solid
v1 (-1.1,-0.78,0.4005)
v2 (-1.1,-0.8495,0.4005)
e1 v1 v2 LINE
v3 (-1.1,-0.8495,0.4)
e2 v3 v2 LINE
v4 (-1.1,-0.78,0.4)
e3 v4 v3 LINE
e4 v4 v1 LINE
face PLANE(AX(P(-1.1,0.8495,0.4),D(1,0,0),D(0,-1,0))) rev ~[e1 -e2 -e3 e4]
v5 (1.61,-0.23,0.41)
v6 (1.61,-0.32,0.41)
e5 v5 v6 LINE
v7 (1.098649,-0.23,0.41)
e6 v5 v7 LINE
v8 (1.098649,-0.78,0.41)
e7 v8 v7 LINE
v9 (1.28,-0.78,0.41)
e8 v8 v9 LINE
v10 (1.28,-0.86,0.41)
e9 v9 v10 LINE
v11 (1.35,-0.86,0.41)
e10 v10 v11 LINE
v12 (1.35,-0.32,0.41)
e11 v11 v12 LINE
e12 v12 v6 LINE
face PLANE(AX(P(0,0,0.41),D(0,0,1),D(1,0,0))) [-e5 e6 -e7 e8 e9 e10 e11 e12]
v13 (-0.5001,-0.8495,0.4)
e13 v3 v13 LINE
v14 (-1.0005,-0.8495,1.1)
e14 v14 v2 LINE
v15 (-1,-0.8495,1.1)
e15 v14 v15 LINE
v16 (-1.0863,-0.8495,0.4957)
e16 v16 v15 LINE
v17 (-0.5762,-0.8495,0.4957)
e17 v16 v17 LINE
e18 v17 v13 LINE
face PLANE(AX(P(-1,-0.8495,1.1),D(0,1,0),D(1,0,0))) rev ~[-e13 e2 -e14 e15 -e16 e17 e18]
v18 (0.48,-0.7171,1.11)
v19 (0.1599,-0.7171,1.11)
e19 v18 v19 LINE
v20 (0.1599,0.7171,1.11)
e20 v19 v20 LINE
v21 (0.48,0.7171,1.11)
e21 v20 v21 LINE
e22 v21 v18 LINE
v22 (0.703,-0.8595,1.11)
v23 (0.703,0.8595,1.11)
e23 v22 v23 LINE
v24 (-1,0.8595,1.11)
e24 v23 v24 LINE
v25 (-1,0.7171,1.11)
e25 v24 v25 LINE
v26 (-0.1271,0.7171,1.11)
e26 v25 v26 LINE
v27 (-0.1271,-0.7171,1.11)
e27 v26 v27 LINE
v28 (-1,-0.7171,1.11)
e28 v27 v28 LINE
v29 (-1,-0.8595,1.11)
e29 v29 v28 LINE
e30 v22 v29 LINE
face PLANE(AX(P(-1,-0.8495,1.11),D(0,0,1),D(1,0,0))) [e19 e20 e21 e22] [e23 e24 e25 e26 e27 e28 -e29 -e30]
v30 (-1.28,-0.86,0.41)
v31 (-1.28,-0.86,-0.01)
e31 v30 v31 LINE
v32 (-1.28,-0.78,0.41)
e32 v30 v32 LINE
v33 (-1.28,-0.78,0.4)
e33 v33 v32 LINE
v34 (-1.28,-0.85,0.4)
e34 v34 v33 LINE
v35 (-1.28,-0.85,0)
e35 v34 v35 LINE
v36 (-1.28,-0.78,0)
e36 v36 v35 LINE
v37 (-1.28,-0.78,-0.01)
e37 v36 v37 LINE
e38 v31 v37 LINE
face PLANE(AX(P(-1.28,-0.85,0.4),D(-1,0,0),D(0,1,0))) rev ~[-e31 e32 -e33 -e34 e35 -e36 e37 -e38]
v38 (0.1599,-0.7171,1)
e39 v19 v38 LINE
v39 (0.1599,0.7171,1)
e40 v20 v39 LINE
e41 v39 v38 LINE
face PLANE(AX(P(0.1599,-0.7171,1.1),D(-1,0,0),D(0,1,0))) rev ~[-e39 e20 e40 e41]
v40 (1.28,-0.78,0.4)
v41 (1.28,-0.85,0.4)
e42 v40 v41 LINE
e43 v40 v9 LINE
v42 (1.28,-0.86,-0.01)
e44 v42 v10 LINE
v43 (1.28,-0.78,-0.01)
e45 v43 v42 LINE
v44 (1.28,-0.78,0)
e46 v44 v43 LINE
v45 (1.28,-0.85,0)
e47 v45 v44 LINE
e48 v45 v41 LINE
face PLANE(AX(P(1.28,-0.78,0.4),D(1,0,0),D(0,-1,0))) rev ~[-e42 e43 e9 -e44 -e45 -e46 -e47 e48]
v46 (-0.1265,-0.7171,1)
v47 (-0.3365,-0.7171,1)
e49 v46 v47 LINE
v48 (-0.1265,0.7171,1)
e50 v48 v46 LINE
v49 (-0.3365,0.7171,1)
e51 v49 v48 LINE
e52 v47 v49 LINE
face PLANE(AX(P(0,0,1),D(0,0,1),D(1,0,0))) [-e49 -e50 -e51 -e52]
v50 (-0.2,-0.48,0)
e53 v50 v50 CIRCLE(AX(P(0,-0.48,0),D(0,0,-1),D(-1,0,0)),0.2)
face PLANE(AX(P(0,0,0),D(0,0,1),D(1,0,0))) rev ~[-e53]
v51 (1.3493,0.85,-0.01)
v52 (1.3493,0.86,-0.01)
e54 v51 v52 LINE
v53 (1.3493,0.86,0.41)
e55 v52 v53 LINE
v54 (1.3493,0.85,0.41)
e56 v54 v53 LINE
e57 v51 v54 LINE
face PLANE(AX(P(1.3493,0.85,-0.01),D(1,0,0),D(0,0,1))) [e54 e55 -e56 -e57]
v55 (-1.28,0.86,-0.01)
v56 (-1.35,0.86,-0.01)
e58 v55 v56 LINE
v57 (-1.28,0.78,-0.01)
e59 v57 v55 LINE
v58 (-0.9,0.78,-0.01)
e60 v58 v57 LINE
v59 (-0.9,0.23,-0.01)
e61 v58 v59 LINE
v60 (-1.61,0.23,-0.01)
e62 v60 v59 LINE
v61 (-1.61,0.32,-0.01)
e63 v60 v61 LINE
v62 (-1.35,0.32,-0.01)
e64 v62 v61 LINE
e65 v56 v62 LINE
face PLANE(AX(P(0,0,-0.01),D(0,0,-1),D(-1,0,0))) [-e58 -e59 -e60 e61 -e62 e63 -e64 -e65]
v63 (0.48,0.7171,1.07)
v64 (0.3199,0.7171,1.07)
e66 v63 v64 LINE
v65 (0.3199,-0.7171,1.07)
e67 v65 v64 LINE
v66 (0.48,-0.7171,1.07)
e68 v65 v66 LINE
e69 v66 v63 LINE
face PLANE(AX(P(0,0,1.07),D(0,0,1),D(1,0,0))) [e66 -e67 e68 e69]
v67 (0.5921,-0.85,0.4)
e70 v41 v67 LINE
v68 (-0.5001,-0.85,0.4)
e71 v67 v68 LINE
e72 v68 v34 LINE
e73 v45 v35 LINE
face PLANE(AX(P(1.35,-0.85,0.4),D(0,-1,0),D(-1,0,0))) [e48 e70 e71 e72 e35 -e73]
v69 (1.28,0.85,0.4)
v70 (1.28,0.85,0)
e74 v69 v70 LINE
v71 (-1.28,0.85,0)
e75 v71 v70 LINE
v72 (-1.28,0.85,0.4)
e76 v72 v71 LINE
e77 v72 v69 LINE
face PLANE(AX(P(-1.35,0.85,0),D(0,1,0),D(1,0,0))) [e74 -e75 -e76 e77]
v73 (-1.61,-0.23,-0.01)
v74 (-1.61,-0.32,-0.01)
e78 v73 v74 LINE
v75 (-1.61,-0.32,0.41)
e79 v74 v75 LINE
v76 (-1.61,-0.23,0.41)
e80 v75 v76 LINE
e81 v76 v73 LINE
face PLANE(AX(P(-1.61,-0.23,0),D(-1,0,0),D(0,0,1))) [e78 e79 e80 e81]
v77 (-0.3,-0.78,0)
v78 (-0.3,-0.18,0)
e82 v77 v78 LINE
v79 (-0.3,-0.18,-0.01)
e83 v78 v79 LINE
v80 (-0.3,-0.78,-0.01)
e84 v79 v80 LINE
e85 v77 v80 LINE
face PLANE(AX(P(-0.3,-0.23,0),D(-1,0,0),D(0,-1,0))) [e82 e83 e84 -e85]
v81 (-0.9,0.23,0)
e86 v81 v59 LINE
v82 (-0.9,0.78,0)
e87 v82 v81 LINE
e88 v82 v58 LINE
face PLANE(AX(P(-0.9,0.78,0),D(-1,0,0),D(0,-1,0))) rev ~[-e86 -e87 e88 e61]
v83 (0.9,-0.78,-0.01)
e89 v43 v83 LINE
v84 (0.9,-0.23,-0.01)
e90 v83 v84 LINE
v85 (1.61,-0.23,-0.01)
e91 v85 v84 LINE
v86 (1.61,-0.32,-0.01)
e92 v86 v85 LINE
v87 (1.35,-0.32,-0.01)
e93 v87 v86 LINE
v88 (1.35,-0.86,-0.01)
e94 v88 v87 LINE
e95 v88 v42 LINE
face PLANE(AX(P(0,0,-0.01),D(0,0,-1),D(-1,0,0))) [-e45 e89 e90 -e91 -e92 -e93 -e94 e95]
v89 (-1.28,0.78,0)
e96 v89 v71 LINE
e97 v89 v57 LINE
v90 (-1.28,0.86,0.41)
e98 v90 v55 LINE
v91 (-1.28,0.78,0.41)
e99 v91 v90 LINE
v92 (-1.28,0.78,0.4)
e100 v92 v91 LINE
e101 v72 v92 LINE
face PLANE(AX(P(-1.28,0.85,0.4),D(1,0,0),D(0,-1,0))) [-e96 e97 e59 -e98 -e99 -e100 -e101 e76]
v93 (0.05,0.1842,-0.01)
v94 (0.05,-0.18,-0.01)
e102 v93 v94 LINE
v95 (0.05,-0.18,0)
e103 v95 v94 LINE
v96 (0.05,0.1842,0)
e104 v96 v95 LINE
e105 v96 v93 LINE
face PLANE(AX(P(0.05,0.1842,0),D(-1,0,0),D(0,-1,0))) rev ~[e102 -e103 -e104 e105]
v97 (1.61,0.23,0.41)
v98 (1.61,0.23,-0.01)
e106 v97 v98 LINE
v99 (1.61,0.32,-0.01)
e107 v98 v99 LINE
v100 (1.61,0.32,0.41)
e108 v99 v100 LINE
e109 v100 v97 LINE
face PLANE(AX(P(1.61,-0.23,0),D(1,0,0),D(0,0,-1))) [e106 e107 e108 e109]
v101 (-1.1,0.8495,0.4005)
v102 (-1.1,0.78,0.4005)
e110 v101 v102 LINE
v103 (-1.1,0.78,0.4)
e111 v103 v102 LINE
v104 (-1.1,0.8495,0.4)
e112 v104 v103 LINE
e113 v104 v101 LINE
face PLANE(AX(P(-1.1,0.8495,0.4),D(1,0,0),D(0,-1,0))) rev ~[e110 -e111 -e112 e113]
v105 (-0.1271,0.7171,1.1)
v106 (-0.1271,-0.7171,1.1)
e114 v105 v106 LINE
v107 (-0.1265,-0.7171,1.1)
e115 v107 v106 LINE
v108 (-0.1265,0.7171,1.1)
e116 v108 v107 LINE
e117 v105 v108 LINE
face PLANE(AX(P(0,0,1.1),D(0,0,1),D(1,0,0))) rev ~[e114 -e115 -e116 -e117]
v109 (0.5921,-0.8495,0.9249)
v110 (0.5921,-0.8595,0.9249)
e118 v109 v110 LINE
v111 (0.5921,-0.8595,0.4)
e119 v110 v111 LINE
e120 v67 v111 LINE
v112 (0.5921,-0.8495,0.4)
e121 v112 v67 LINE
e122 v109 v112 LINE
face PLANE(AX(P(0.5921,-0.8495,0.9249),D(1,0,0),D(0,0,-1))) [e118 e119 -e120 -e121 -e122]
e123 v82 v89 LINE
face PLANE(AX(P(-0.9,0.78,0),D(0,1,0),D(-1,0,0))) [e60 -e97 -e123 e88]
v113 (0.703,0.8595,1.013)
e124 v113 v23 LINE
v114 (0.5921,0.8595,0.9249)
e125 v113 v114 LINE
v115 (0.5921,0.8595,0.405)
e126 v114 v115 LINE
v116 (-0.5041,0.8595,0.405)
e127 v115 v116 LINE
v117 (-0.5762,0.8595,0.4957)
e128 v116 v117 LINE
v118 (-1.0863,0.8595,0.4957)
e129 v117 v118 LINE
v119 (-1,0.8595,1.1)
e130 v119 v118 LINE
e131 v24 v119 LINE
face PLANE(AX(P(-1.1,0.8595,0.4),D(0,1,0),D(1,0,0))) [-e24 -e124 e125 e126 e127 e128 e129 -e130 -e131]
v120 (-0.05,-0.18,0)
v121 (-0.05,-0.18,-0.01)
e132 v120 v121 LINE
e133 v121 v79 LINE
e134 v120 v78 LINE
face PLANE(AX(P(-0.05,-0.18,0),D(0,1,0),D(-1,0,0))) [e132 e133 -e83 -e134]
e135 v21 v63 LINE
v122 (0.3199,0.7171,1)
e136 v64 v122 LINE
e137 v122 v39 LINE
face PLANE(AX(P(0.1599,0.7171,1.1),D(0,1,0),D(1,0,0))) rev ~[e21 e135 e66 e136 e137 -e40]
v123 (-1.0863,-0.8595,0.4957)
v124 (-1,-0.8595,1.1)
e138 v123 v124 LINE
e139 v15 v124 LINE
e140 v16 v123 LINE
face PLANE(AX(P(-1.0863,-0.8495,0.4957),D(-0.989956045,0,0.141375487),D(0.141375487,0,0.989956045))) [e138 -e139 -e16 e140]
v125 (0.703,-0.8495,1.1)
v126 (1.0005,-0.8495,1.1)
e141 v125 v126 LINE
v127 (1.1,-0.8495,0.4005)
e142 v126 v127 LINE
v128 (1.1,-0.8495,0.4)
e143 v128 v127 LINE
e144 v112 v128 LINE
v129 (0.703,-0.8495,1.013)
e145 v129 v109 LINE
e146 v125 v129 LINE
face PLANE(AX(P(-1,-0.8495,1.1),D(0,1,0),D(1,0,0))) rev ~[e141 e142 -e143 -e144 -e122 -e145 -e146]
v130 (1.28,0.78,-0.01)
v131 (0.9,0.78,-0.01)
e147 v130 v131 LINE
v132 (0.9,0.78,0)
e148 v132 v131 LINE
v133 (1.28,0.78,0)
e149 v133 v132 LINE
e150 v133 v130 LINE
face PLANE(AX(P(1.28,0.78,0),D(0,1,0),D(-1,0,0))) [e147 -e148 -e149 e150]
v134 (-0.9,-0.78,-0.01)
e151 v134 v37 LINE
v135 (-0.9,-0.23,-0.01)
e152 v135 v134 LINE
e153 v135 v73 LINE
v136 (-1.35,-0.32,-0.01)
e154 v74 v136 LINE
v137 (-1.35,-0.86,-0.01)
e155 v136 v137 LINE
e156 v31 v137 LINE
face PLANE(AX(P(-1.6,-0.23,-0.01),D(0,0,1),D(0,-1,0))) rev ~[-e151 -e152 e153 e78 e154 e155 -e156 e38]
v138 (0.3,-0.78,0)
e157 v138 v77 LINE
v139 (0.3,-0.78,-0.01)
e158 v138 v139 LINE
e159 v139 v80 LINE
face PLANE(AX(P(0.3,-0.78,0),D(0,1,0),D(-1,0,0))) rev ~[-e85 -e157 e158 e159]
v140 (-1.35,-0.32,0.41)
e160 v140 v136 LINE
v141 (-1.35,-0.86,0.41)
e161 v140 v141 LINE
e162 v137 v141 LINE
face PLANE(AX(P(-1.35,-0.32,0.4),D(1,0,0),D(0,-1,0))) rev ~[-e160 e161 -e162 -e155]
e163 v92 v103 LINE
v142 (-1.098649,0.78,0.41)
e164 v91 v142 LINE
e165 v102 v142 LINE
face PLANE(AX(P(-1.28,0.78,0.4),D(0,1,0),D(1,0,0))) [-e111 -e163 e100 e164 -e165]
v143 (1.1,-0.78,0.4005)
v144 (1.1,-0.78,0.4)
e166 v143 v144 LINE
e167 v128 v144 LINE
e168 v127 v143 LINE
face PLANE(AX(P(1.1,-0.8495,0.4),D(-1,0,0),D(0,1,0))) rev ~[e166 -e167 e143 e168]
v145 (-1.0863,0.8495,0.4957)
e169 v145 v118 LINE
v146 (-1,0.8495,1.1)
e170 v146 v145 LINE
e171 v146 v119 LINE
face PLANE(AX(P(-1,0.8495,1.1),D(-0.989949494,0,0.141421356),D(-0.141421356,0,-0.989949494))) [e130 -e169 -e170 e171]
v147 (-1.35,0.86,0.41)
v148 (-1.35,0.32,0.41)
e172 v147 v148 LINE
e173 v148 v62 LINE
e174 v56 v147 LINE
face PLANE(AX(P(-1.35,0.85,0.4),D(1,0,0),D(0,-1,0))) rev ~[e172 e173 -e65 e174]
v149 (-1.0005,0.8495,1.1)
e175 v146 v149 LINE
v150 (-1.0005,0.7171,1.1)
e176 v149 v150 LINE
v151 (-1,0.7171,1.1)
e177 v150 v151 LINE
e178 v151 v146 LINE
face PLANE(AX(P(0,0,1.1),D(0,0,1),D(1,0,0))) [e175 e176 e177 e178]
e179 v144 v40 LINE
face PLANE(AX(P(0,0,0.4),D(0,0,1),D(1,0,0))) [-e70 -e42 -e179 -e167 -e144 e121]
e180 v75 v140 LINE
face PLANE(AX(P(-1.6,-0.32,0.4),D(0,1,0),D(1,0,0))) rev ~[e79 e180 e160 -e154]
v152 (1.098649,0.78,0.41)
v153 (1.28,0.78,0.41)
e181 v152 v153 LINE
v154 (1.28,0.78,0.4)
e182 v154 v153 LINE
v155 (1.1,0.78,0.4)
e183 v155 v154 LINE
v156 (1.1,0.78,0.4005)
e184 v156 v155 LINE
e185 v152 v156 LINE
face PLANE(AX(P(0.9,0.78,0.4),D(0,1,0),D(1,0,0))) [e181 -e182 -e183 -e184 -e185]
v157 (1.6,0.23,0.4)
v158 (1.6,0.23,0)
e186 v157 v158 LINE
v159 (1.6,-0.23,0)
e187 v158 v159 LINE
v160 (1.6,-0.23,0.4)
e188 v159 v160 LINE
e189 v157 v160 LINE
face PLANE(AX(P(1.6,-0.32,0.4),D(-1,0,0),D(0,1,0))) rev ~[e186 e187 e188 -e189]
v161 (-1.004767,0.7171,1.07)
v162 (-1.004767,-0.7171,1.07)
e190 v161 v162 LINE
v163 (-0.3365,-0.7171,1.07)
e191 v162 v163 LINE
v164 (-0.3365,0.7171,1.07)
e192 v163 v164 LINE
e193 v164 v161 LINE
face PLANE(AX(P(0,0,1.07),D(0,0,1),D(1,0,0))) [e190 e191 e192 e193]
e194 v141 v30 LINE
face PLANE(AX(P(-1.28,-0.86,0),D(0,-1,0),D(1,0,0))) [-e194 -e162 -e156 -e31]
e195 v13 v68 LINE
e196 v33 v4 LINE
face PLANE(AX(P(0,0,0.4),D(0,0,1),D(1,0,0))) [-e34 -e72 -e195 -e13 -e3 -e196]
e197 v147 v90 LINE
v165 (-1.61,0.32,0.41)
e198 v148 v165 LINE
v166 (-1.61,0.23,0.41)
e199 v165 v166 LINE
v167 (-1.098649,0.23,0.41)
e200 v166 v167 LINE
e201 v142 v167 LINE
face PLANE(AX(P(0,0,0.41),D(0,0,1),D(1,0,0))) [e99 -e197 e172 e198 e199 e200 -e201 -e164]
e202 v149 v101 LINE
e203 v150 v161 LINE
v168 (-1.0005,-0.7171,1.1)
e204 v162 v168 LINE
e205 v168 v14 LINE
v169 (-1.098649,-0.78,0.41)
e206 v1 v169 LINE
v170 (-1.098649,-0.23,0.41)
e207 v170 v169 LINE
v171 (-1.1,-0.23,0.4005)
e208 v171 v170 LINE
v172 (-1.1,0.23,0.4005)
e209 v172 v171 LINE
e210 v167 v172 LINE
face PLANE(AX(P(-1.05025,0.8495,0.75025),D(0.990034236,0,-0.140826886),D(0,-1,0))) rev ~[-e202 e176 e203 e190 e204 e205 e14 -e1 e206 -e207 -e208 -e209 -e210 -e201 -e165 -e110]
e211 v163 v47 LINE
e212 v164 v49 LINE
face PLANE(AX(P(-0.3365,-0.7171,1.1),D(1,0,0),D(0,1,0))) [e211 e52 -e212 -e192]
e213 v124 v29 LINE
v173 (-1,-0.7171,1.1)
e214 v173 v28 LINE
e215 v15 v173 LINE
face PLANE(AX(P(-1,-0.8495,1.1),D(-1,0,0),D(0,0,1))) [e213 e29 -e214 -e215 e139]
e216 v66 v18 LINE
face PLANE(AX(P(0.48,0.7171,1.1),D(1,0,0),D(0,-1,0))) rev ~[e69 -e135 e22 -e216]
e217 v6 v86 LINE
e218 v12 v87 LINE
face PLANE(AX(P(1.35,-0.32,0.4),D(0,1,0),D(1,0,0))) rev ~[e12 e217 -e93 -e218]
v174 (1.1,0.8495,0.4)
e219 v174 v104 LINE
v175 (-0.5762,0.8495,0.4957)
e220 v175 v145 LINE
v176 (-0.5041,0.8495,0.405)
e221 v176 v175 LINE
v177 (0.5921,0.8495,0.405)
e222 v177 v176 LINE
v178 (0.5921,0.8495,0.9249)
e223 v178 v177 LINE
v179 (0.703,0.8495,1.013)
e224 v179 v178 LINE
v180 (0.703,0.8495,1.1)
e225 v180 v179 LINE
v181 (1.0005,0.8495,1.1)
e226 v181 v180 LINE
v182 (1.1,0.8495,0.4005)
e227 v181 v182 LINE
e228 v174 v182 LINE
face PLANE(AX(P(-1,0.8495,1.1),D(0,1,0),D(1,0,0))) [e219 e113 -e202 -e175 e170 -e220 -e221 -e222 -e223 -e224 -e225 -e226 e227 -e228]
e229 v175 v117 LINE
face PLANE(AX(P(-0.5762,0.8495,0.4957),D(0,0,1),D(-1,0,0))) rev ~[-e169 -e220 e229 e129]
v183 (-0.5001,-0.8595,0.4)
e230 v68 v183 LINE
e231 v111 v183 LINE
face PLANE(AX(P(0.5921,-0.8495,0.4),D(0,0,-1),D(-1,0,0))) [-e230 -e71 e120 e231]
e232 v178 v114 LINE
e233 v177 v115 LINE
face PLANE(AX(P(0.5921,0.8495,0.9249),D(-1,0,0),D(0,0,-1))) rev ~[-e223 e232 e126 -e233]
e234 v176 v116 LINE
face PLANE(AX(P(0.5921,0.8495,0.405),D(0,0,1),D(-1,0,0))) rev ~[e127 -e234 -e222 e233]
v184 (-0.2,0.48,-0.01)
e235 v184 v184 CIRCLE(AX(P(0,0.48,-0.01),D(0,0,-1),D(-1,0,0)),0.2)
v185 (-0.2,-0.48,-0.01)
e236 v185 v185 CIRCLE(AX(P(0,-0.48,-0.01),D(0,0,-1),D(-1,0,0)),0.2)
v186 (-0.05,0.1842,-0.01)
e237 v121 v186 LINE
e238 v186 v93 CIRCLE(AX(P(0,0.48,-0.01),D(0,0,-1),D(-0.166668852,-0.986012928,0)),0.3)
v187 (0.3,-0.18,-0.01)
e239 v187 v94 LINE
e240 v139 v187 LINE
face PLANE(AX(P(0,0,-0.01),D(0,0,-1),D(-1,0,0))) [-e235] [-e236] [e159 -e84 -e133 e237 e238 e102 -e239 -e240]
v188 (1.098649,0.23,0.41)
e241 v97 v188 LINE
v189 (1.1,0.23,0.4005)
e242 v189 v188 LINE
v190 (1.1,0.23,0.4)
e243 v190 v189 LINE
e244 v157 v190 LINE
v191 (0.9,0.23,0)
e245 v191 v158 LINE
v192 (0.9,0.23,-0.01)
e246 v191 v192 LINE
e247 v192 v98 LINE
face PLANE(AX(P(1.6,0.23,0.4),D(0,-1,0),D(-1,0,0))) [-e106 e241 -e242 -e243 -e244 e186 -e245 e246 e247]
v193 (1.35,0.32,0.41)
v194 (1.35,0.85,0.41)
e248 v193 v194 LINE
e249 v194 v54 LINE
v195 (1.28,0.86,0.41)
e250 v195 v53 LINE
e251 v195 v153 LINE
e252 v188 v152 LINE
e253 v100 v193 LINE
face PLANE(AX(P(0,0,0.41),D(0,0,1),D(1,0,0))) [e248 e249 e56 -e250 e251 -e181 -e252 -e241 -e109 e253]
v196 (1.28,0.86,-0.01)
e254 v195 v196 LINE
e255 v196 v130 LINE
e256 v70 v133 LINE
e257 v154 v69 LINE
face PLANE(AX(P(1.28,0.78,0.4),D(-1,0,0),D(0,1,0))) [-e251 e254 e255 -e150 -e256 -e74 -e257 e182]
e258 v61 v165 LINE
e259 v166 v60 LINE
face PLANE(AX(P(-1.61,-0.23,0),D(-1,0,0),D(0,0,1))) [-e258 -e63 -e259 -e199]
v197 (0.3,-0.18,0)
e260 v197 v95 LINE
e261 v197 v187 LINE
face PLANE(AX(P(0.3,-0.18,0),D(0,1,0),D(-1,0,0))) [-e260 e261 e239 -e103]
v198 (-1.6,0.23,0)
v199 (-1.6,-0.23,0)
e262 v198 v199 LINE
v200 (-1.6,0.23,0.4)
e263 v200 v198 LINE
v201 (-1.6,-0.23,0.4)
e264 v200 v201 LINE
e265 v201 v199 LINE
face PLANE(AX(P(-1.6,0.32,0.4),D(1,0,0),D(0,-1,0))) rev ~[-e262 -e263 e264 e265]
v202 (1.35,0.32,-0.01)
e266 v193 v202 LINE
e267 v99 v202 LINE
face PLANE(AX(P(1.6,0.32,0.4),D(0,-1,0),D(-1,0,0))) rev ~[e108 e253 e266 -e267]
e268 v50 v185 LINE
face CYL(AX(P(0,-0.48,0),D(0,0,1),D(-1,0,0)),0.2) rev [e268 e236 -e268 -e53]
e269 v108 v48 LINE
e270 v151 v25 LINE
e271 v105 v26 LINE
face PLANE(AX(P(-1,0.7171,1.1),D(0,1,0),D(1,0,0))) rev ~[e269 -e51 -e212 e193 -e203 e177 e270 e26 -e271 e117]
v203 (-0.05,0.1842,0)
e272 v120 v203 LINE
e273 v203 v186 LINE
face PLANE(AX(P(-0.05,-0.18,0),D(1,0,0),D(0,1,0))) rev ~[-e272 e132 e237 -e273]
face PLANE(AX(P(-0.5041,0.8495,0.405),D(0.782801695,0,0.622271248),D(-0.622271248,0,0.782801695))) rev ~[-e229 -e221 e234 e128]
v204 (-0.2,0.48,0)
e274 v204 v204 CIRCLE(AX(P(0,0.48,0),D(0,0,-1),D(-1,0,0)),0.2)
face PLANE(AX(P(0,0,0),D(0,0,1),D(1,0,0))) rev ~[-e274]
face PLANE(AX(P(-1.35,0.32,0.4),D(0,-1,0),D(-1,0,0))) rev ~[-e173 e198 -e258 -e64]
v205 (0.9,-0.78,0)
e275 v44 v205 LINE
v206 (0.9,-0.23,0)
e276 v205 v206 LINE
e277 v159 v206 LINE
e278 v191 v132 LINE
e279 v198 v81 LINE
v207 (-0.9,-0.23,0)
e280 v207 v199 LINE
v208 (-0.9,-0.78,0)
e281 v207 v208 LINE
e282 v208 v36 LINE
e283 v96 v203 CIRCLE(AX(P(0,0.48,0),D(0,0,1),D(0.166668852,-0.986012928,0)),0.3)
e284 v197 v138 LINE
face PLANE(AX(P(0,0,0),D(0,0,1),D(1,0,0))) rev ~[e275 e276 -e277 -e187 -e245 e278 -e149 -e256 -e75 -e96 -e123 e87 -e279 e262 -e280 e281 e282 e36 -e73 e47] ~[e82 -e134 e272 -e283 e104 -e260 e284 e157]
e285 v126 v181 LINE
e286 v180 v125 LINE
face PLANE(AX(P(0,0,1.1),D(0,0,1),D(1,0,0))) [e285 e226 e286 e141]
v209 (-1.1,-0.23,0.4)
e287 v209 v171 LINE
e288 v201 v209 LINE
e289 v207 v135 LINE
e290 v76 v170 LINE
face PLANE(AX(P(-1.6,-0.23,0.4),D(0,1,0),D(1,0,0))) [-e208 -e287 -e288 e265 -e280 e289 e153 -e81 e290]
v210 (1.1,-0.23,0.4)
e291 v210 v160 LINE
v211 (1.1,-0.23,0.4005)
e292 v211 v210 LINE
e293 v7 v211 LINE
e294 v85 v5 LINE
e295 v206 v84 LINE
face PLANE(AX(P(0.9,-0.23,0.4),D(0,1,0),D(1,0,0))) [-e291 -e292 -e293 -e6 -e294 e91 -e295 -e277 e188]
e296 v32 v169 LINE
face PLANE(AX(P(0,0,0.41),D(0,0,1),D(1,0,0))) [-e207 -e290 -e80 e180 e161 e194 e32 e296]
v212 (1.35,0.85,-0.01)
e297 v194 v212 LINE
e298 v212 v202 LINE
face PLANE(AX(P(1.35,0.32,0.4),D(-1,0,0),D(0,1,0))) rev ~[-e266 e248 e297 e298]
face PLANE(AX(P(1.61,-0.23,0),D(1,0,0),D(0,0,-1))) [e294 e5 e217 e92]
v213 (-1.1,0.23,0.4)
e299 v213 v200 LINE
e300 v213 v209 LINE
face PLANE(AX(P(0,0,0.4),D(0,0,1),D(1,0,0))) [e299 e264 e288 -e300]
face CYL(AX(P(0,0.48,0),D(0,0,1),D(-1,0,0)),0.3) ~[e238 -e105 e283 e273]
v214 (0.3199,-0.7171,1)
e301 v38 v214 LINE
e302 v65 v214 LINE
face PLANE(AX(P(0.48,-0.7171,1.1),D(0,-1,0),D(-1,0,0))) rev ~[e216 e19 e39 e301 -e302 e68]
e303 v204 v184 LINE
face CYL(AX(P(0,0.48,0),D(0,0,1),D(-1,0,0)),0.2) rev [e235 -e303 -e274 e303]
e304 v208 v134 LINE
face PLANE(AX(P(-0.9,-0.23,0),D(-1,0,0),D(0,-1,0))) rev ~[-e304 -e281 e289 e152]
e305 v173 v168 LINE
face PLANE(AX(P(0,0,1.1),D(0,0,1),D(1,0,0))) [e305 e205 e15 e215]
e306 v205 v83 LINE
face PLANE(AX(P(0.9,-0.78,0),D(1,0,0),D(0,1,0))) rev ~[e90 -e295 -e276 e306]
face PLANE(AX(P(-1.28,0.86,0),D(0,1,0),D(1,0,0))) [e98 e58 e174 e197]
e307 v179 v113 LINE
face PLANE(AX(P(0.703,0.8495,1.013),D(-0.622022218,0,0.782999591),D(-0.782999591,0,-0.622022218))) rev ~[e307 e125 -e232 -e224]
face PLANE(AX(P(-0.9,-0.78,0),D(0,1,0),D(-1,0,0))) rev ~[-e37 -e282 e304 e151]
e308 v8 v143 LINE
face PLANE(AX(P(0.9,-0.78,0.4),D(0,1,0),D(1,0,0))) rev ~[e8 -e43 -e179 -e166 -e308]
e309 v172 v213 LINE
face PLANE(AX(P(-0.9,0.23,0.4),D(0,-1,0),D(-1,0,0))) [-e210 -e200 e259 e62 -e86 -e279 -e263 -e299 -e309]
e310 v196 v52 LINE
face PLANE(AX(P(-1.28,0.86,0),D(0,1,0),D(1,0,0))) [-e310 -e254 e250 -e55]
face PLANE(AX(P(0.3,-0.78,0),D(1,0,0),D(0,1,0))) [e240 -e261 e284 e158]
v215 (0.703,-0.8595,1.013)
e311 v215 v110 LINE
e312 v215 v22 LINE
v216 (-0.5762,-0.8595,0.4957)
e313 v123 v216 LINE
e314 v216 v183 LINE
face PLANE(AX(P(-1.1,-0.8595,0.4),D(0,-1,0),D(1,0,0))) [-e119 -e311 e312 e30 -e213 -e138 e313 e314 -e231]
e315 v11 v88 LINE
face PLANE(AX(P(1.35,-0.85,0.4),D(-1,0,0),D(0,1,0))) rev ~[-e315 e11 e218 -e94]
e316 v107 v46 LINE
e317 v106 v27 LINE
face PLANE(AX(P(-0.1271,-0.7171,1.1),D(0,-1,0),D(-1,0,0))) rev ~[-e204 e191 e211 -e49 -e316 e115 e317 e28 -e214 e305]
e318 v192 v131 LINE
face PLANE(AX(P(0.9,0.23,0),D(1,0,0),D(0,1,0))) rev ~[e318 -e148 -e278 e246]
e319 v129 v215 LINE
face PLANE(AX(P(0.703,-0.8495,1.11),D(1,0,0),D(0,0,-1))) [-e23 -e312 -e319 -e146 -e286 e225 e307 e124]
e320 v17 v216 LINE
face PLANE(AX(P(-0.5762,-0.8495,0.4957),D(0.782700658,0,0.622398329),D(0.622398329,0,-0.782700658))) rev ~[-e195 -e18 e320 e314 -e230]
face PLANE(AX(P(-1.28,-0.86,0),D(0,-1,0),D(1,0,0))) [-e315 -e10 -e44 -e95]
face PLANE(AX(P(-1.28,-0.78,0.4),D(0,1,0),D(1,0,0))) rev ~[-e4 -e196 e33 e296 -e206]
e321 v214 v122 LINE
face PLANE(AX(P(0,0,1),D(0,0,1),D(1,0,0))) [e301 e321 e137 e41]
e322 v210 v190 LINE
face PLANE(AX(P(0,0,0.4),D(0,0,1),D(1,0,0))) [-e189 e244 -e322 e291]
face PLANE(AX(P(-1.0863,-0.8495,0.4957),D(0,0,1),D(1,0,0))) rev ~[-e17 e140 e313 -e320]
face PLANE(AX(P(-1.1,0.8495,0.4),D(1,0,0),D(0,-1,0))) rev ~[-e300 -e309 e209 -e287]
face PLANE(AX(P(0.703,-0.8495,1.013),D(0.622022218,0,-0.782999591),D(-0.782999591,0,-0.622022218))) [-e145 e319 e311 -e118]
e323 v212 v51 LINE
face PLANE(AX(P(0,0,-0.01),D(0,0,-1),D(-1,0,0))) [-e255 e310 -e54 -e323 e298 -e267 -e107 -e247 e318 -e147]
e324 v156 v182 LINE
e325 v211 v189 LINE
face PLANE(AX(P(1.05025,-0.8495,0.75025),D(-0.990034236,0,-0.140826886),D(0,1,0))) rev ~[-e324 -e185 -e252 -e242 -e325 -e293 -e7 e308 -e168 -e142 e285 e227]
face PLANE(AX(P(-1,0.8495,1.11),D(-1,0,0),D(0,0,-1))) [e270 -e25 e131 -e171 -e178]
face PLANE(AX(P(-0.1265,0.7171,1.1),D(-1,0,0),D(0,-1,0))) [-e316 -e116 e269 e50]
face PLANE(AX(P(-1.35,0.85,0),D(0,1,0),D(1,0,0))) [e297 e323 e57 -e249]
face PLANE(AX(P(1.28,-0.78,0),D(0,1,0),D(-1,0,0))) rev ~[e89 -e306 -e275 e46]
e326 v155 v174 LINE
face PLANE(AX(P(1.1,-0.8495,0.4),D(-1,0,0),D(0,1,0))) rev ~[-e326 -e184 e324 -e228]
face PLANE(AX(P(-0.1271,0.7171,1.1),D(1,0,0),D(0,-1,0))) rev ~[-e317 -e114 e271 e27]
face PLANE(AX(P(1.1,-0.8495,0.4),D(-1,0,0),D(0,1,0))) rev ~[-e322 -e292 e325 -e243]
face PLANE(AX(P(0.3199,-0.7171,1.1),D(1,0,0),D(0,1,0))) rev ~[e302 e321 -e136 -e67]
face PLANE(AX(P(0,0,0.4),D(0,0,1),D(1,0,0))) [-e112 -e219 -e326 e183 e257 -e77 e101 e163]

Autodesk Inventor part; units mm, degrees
ref_plane "YZ Plane" through (0, 0, 0) normal (1, 0, 0) x (0, 1, 0)
ref_plane "XZ Plane" through (0, 0, 0) normal (0, 1, 0) x (-1, 0, 0)
ref_plane "XY Plane" through (0, 0, 0) normal (0, 0, 1) x (1, 0, 0)
sketch "Sketch1" plane through (0, 0, 0) normal (0, 0, 1) x (1, 0, 0)
  line L0 (1.35, -0.85) -> (-1.35, -0.85)
  line L1 (-1.35, -0.85) -> (-1.35, 0.85)
  line L2 (-1.35, 0.85) -> (1.35, 0.85)
  line L3 (1.35, 0.85) -> (1.35, -0.85)
  line L4 (1.35, -0.85) -> (-1.35, 0.85) construction
  line L5 (-1.35, -0.85) -> (1.35, 0.85) construction
  line L6 (-1.35, 0) -> (1.35, 0) construction
  line L7 (0, 0.85) -> (0, -0.85) construction
  line L8 (1.6, -0.32) -> (1.35, -0.32)
  line L9 (1.35, -0.32) -> (1.35, 0.32)
  line L10 (1.35, 0.32) -> (1.6, 0.32)
  line L11 (1.6, 0.32) -> (1.6, -0.32)
  line L12 (1.6, -0.32) -> (1.35, 0.32) construction
  line L13 (1.35, -0.32) -> (1.6, 0.32) construction
  line L14 (-1.6, -0.32) -> (-1.35, -0.32)
  line L15 (-1.35, -0.32) -> (-1.35, 0.32)
  line L16 (-1.35, 0.32) -> (-1.6, 0.32)
  line L17 (-1.6, 0.32) -> (-1.6, -0.32)
  line L18 (-1.6, -0.32) -> (-1.35, 0.32) construction
  line L19 (-1.35, -0.32) -> (-1.6, 0.32) construction
  point P0 (0, 0)
  point P1 (1.475, 0)
  point P2 (-1.475, 0)
  dimension "d0" = 2.7
  dimension "d1" = 1.7
  dimension "d3" = 0.64
  dimension "d4" = 3.2
extrude "Extrusion1" add sketch "Sketch1" along normal blind 0.4
sketch "Sketch2" plane through (0, 0, 0.4) normal (0, 0, 1) x (1, 0, 0)
  line L0 (-1.1, -0.8495) -> (1.1, -0.8495)
  line L1 (1.1, -0.8495) -> (1.1, 0.8495)
  line L2 (1.1, 0.8495) -> (-1.1, 0.8495)
  line L3 (-1.1, 0.8495) -> (-1.1, -0.8495)
  line L4 (-1.1, -0.8495) -> (1.1, 0.8495) construction
  line L5 (1.1, -0.8495) -> (-1.1, 0.8495) construction
  point P0 (0, 0)
  dimension "d7" = 2.2
  dimension "d27" = 1.699
sketch "Sketch3" plane through (0, 0, 0) normal (0, 0, -1) x (-1, 0, 0)
  line L0 (1.35, -0.85) -> (-1.35, -0.85) projected
  line L1 (-0.9, 0.85) -> (0.9, 0.85)
  line L2 (0.9, 0.85) -> (0.9, -0.85)
  line L3 (0.9, -0.85) -> (-0.9, -0.85)
  line L4 (-0.9, -0.85) -> (-0.9, 0.85)
  line L5 (-0.9, 0.85) -> (0.9, -0.85) construction
  line L6 (0.9, 0.85) -> (-0.9, -0.85) construction
  line L7 (1.28, 0.85) -> (-1.28, 0.85)
  line L8 (-1.28, 0.85) -> (-1.28, 0.78)
  line L9 (-1.28, 0.78) -> (1.28, 0.78)
  line L10 (1.28, 0.78) -> (1.28, 0.85)
  line L11 (1.28, 0.85) -> (-1.28, 0.78) construction
  line L12 (-1.28, 0.85) -> (1.28, 0.78) construction
  line L13 (-1.35, 0.85) -> (-1.35, 0.32) projected
  line L14 (-1.6, -0.32) -> (-1.6, 0.32) projected
  line L15 (1.6, 0.23) -> (-1.6, 0.23)
  line L16 (-1.6, 0.23) -> (-1.6, -0.23)
  line L17 (-1.6, -0.23) -> (1.6, -0.23)
  line L18 (1.6, -0.23) -> (1.6, 0.23)
  line L19 (1.6, 0.23) -> (-1.6, -0.23) construction
  line L20 (-1.6, 0.23) -> (1.6, -0.23) construction
  line L21 (1.35, -0.85) -> (1.35, -0.32)
  line L22 (1.35, -0.32) -> (1.6, -0.32)
  line L23 (1.6, -0.32) -> (1.35, -0.32) projected
  line L24 (1.6, -0.32) -> (1.6, 0.32)
  line L25 (1.6, 0.32) -> (1.35, 0.32)
  line L26 (1.35, 0.32) -> (1.35, 0.85)
  line L27 (-1.35, 0.85) -> (1.35, 0.85) projected
  line L28 (1.35, 0.85) -> (-1.35, 0.85)
  line L29 (-1.35, 0.85) -> (-1.35, 0.32)
  line L30 (-1.35, 0.32) -> (-1.6, 0.32)
  line L31 (-1.6, 0.32) -> (-1.35, 0.32) projected
  line L32 (-1.6, -0.32) -> (-1.35, -0.32)
  line L33 (-1.35, -0.32) -> (-1.6, -0.32) projected
  line L34 (-1.35, -0.32) -> (-1.35, -0.85)
  line L35 (1.6, 0) -> (-1.6, 0) construction
  line L36 (-0.9, -0.85) -> (0.9, -0.85)
  line L37 (-0.9, -0.85) -> (0.9, 0.85) construction
  line L38 (0.9, -0.85) -> (-0.9, 0.85) construction
  line L39 (1.28, -0.85) -> (-1.28, -0.85)
  line L40 (-1.28, -0.85) -> (-1.28, -0.78)
  line L41 (-1.28, -0.78) -> (1.28, -0.78)
  line L42 (1.28, -0.78) -> (1.28, -0.85)
  line L43 (1.28, -0.85) -> (-1.28, -0.78) construction
  line L44 (-1.28, -0.85) -> (1.28, -0.78) construction
  line L45 (1.35, -0.85) -> (-1.35, -0.85)
  line L46 (-0.3, -0.18) -> (0.3, -0.18)
  line L47 (0.3, -0.18) -> (0.3, -0.78)
  line L48 (0.3, -0.78) -> (-0.3, -0.78)
  line L49 (-0.3, -0.78) -> (-0.3, -0.18)
  line L50 (-0.3, -0.18) -> (0.3, -0.78) construction
  line L51 (0.3, -0.18) -> (-0.3, -0.78) construction
  circle A0 centre (0, 0.48) radius 0.3
  circle A1 centre (0, 0.48) radius 0.2
  line L52 (0.05, -0.18) -> (0.05, 0.1842)
  line L53 (-0.05, 0.1842) -> (-0.05, -0.18)
  line L54 (0, -0.85) -> (0, 0.85) construction
  circle A2 centre (0, -0.48) radius 0.2
  point P0 (0, 0)
  point P1 (0, 0.815)
  point P2 (0, 0.815)
  point P3 (0, 0)
  point P4 (0, -0.815)
  point P5 (0, -0.815)
  point P6 (0, -0.48)
  point P7 (0, -0.48)
  point P8 (0, 0)
  point P9 (0, -0.48)
  point P10 (0, 0)
  dimension "d8" = 1.8
  dimension "d9" = 0.07
  dimension "d10" = 0.07
  dimension "d11" = 0.46
  dimension "d14" = 0.6
  dimension "d15" = 0.6
  dimension "d16" = 0.4
  dimension "d17" = 0.1
  dimension "d18" = 0.4
extrude "Extrusion2" add sketch "Sketch3" along normal blind 0.01 contours L0 L42 L41 L2 L17 L24 L22 L21 | L0 L34 L32 L14 L17 L4 L41 L40 | L41 L49 L17 L47 | L15 L2 L9 L10 L27 L26 L25 L24 | L17 L49 L46 L47 | L15 L14 L30 L13 L27 L8 L9 L4 | A0 L15 | L15 A0 | L52 L46 L53 A0
extrude "Extrusion3" add sketch "Sketch2" along normal blind 0.7
chamfer "Chamfer1" distance 0.1 distance2 0.7 1 edges at (-1.1, 0, 1.1) measured on face at (-0.3667, 0.2832, 1.1)
chamfer "Chamfer2" distance 0.1 distance2 0.7 1 edges at (1.1, 0, 1.1) measured on face at (-0.3003, 0.2832, 1.1)
sketch "Sketch5" plane through (0, 0, 0.4) normal (0, 0, 1) x (1, 0, 0)
  line L0 (-0.9, 0.85) -> (0.9, 0.85)
  line L1 (0.9, 0.85) -> (0.9, -0.85)
  line L2 (0.9, -0.85) -> (-0.9, -0.85)
  line L3 (-0.9, -0.85) -> (-0.9, 0.85)
  line L4 (-0.9, 0.85) -> (0.9, -0.85) construction
  line L5 (0.9, 0.85) -> (-0.9, -0.85) construction
  line L6 (1.28, 0.85) -> (-1.28, 0.85)
  line L7 (-1.28, 0.85) -> (-1.28, 0.78)
  line L8 (-1.28, 0.78) -> (1.28, 0.78)
  line L9 (1.28, 0.78) -> (1.28, 0.85)
  line L10 (1.28, 0.85) -> (-1.28, 0.78) construction
  line L11 (-1.28, 0.85) -> (1.28, 0.78) construction
  line L12 (1.6, 0.23) -> (-1.6, 0.23)
  line L13 (-1.6, 0.23) -> (-1.6, -0.23)
  line L14 (-1.6, -0.23) -> (1.6, -0.23)
  line L15 (1.6, -0.23) -> (1.6, 0.23)
  line L16 (1.6, 0.23) -> (-1.6, -0.23) construction
  line L17 (-1.6, 0.23) -> (1.6, -0.23) construction
  line L18 (1.35, -0.85) -> (1.35, -0.32)
  line L19 (1.35, -0.32) -> (1.6, -0.32)
  line L20 (1.6, -0.32) -> (1.6, 0.32)
  line L21 (1.6, 0.32) -> (1.35, 0.32)
  line L22 (1.35, 0.32) -> (1.35, 0.85)
  line L23 (1.35, 0.85) -> (-1.35, 0.85)
  line L24 (-1.35, 0.85) -> (-1.35, 0.32)
  line L25 (-1.35, 0.32) -> (-1.6, 0.32)
  line L26 (-1.6, -0.32) -> (-1.35, -0.32)
  line L27 (-1.35, -0.32) -> (-1.35, -0.85)
  line L28 (1.6, 0) -> (-1.6, 0) construction
  line L29 (-1.28, -0.85) -> (-1.28, -0.78)
  line L30 (-0.9, -0.85) -> (0.9, -0.85)
  line L31 (-0.9, -0.85) -> (0.9, 0.85) construction
  line L32 (0.9, -0.85) -> (-0.9, 0.85) construction
  line L33 (1.35, -0.85) -> (-1.35, -0.85)
  line L34 (1.28, -0.85) -> (-1.28, -0.85)
  line L35 (-1.28, -0.78) -> (1.28, -0.78)
  line L36 (1.28, -0.85) -> (-1.28, -0.78) construction
  line L37 (-1.28, -0.85) -> (1.28, -0.78) construction
  line L38 (1.28, -0.78) -> (1.28, -0.85)
  line L39 (-0.3, -0.18) -> (0.3, -0.18)
  line L40 (0.3, -0.18) -> (0.3, -0.78)
  line L41 (0.3, -0.78) -> (-0.3, -0.78)
  line L42 (-0.3, -0.78) -> (-0.3, -0.18)
  line L43 (-0.3, -0.18) -> (0.3, -0.78) construction
  line L44 (0.3, -0.18) -> (-0.3, -0.78) construction
  circle A0 centre (0, 0.48) radius 0.3
  circle A1 centre (0, 0.48) radius 0.2
  line L45 (0.05, -0.18) -> (0.05, 0.1842)
  line L46 (-0.05, 0.1842) -> (-0.05, -0.18)
  line L47 (0, -0.85) -> (0, 0.85) construction
  circle A2 centre (0, -0.48) radius 0.2
  line L48 (-1.6, 0.32) -> (-1.6, -0.32)
  line L49 (-1.35, 0.32) -> (-1.6, 0.32) projected
  point P0 (0, 0)
  point P1 (0, 0.815)
  point P2 (0, 0.815)
  point P3 (0, 0)
  point P4 (0, -0.815)
  point P5 (0, -0.815)
  point P6 (0, -0.48)
  point P7 (0, -0.48)
  point P8 (0, 0)
  point P9 (0, -0.48)
  point P10 (0, 0)
  dimension "d30" = 1.8
  dimension "d31" = 0.07
  dimension "d33" = 0.46
  dimension "d34" = 0.6
  dimension "d35" = 0.6
  dimension "d36" = 0.4
  dimension "d37" = 0.1
  dimension "d38" = 0.4
extrude "Extrusion5" add sketch "Sketch5" along normal blind 0.01 contours L3 L12 L48 L25 L24 L23 L7 L8 | L8 L9 L23 L22 L21 L20 L12 L1 | L3 L35 L29 L33 L27 L26 L48 L14 | L14 L20 L19 L18 L33 L38 L35 L1
sketch "Sketch6" plane through (-1.28, 0.85, 0) normal (0, 1, 0) x (1, 0, 0)
  line L0 (0, 0.01) -> (-0.07, 0.01)
  line L1 (-0.07, 0.01) -> (-0.07, -0.41)
  line L2 (-0.07, -0.41) -> (0, -0.41)
  line L3 (0, -0.41) -> (0, 0.01)
  line L4 (2.3786, -0.41) -> (2.88, -0.41) projected
  line L5 (2.56, 0.01) -> (2.6293, 0.01)
  line L6 (2.6293, 0.01) -> (2.6293, -0.41)
  line L7 (2.6293, -0.41) -> (2.56, -0.41)
  line L8 (2.56, -0.41) -> (2.56, 0.01)
  point P0 (1.28, 0)
extrude "Extrusion6" add sketch "Sketch6" along normal blind 0.01
sketch "Sketch7" plane through (-1.28, -0.85, 0) normal (0, -1, 0) x (1, 0, 0)
  line L0 (0, -0.01) -> (-0.07, -0.01)
  line L1 (-0.07, -0.01) -> (-0.07, 0.41)
  line L2 (-0.07, 0.41) -> (0, 0.41)
  line L3 (0, 0.41) -> (0, -0.01)
  line L4 (2.63, -0.01) -> (2.56, -0.01)
  line L5 (2.56, -0.01) -> (2.56, 0.41)
  line L6 (2.56, 0.41) -> (2.63, 0.41)
  line L7 (2.63, 0.41) -> (2.63, -0.01)
  point P0 (1.28, 0)
extrude "Extrusion7" add sketch "Sketch7" along normal blind 0.01
sketch "Sketch8" plane through (1.6, -0.23, 0) normal (1, 0, 0) x (0, 0, -1)
  line L0 (-0.41, -0.09) -> (0.01, -0.09)
  line L1 (0.01, -0.09) -> (0.01, 0)
  line L2 (0.01, 0) -> (-0.41, 0)
  line L3 (-0.41, 0) -> (-0.41, -0.09)
  line L4 (0.01, 0.55) -> (-0.41, 0.55)
  line L5 (-0.41, 0.55) -> (-0.41, 0.46)
  line L6 (-0.41, 0.46) -> (0.01, 0.46)
  line L7 (0.01, 0.46) -> (0.01, 0.55)
  point P0 (0, 0.23)
extrude "Extrusion8" add sketch "Sketch8" along normal blind 0.01
sketch "Sketch9" plane through (-1.6, -0.23, 0) normal (-1, 0, 0) x (0, 0, 1)
  line L0 (-0.01, -0.09) -> (0.41, -0.09)
  line L1 (0.41, -0.09) -> (0.41, 0)
  line L2 (0.41, 0) -> (-0.01, 0)
  line L3 (-0.01, 0) -> (-0.01, -0.09)
  line L4 (0.41, 0.46) -> (-0.01, 0.46)
  line L5 (-0.01, 0.46) -> (-0.01, 0.55)
  line L6 (-0.01, 0.55) -> (0.41, 0.55)
  line L7 (0.41, 0.55) -> (0.41, 0.46)
  point P0 (0, 0.23)
extrude "Extrusion9" add sketch "Sketch9" along normal blind 0.01
sketch "Sketch10" plane through (0, 0, 1.1) normal (0, 0, 1) x (1, 0, 0)
  line L0 (0.48, 0.7171) -> (0.1599, 0.7171)
  line L1 (0.1599, 0.7171) -> (0.1599, -0.7171)
  line L2 (0.1599, -0.7171) -> (0.48, -0.7171)
  line L3 (0.48, -0.7171) -> (0.48, 0.7171)
  line L4 (0.48, 0.7171) -> (0.1599, -0.7171) construction
  line L5 (0.1599, 0.7171) -> (0.48, -0.7171) construction
  line L6 (-1.0459, 0.7171) -> (-0.1265, 0.7171)
  line L7 (-0.1265, 0.7171) -> (-0.1265, -0.7171)
  line L8 (-0.1265, -0.7171) -> (-1.0459, -0.7171)
  line L9 (-1.0459, -0.7171) -> (-1.0459, 0.7171)
  line L10 (-1.0459, 0.7171) -> (-0.1265, -0.7171) construction
  line L11 (-0.1265, 0.7171) -> (-1.0459, -0.7171) construction
  line L12 (0.1599, -0.7171) -> (0.3199, -0.7171)
  line L13 (0.3199, -0.7171) -> (0.3199, 0.7171)
  line L14 (0.3199, 0.7171) -> (0.1599, 0.7171)
  line L15 (0.1599, 0.7171) -> (0.1599, -0.7171)
  line L16 (-0.1265, -0.7171) -> (-0.3365, -0.7171)
  line L17 (-0.3365, -0.7171) -> (-0.3365, 0.7171)
  line L18 (-0.3365, 0.7171) -> (-0.1265, 0.7171)
  line L19 (-0.1265, 0.7171) -> (-0.1265, -0.7171)
  line L20 (-1, -0.8495) -> (-1, 0.8495) projected
  point P0 (0, 0)
  point P1 (0.3199, 0)
  point P2 (-0.5862, 0)
  point P3 (-0.5862, 0)
  point P4 (0.3199, 0)
  point P5 (-0.5862, 0)
extrude "Extrusion10" cut sketch "Sketch10" against normal blind 0.1 contours L13 L2 L1 L0 | L6 L7 L8 L17
extrude "Extrusion11" cut sketch "Sketch10" against normal blind 0.03 contours L3 L2 L13 L0 | L17 L8 L20 L6 | L20 L8 L9 L6
sketch "Sketch11" plane through (0, 0, 1.1) normal (0, 0, 1) x (1, 0, 0)
  line L0 (-1, -0.8495) -> (1, -0.8495) projected
  line L1 (0.703, -0.8495) -> (-1, -0.8495)
  line L2 (-1, -0.8495) -> (-1, 0.8495)
  line L3 (-1, 0.8495) -> (0.703, 0.8495)
  line L4 (0.703, 0.8495) -> (0.703, -0.8495)
  line L5 (0.48, -0.7171) -> (0.1599, -0.7171)
  line L6 (0.1599, -0.7171) -> (0.1599, 0.7171)
  line L7 (0.1599, 0.7171) -> (0.48, 0.7171)
  line L8 (0.48, 0.7171) -> (0.48, -0.7171)
  line L9 (-0.1271, -0.7171) -> (-1, -0.7171)
  line L10 (-1, -0.7171) -> (-1, 0.7171)
  line L11 (-1, 0.7171) -> (-0.1271, 0.7171)
  line L12 (-0.1271, 0.7171) -> (-0.1271, -0.7171)
  point P0 (0, 0)
extrude "Extrusion12" add sketch "Sketch11" along normal blind 0.01 contours L2 L9 L12 L11 L3 L4 L0
sketch "Sketch12" plane through (-1.1, 0.8495, 0.4) normal (0, 1, 0) x (1, 0, 0)
  line L0 (1.803, -0.7) -> (1.803, -0.613)
  line L1 (1.803, -0.613) -> (1.6921, -0.5249)
  line L2 (1.6921, -0.5249) -> (1.6921, -0.005)
  line L3 (1.6921, -0.005) -> (0.5959, -0.005)
  line L4 (0.5959, -0.005) -> (0.5238, -0.0957)
  line L5 (0.5238, -0.0957) -> (0.0137, -0.0957)
  line L6 (0.1, -0.7) -> (0, 0) projected
  line L7 (1.803, -0.71) -> (1.803, -0.7)
  line L8 (1.803, -0.7) -> (1.803, -0.71) projected
  line L9 (0.1, -0.71) -> (0.1, -0.7)
  line L10 (0.1, -0.7) -> (0.0137, -0.0957)
  line L11 (0, 0) -> (0.1, -0.7) projected
  line L12 (1.803, -0.71) -> (0.1, -0.71)
  line L13 (0.1, -0.71) -> (1.803, -0.71) projected
  point P0 (1.1, 0.4)
extrude "Extrusion13" add sketch "Sketch12" along normal blind 0.01
sketch "Sketch13" plane through (-1.1, -0.8495, 0.4) normal (0, -1, 0) x (1, 0, 0)
  line L0 (0.0137, 0.0957) -> (0.1, 0.7)
  line L1 (0.0137, 0.0957) -> (0.1, 0.7) projected
  line L2 (0.1, 0.7) -> (0.1, 0.71)
  line L3 (0.1, 0.71) -> (0.9729, 0.71) projected
  line L4 (0.1, 0.71) -> (1.803, 0.71)
  line L5 (2.1, 0.7) -> (1.803, 0.7) projected
  line L6 (1.803, 0.71) -> (1.803, 0.7)
  line L7 (1.803, 0.7) -> (1.803, 0.613)
  line L8 (1.803, 0.613) -> (1.6921, 0.5249)
  line L9 (1.6921, 0.5249) -> (1.803, 0.613) projected
  line L10 (1.6921, 0.5249) -> (1.6921, 0)
  line L11 (2.2, 0) -> (0, 0) projected
  line L12 (0.0137, 0.0957) -> (0.5238, 0.0957)
  line L13 (0.5238, 0.0957) -> (0.5999, 0)
  line L14 (1.6921, 0) -> (0.5999, 0)
extrude "Extrusion14" add sketch "Sketch13" along normal blind 0.01
properties part number "GP2S60"
